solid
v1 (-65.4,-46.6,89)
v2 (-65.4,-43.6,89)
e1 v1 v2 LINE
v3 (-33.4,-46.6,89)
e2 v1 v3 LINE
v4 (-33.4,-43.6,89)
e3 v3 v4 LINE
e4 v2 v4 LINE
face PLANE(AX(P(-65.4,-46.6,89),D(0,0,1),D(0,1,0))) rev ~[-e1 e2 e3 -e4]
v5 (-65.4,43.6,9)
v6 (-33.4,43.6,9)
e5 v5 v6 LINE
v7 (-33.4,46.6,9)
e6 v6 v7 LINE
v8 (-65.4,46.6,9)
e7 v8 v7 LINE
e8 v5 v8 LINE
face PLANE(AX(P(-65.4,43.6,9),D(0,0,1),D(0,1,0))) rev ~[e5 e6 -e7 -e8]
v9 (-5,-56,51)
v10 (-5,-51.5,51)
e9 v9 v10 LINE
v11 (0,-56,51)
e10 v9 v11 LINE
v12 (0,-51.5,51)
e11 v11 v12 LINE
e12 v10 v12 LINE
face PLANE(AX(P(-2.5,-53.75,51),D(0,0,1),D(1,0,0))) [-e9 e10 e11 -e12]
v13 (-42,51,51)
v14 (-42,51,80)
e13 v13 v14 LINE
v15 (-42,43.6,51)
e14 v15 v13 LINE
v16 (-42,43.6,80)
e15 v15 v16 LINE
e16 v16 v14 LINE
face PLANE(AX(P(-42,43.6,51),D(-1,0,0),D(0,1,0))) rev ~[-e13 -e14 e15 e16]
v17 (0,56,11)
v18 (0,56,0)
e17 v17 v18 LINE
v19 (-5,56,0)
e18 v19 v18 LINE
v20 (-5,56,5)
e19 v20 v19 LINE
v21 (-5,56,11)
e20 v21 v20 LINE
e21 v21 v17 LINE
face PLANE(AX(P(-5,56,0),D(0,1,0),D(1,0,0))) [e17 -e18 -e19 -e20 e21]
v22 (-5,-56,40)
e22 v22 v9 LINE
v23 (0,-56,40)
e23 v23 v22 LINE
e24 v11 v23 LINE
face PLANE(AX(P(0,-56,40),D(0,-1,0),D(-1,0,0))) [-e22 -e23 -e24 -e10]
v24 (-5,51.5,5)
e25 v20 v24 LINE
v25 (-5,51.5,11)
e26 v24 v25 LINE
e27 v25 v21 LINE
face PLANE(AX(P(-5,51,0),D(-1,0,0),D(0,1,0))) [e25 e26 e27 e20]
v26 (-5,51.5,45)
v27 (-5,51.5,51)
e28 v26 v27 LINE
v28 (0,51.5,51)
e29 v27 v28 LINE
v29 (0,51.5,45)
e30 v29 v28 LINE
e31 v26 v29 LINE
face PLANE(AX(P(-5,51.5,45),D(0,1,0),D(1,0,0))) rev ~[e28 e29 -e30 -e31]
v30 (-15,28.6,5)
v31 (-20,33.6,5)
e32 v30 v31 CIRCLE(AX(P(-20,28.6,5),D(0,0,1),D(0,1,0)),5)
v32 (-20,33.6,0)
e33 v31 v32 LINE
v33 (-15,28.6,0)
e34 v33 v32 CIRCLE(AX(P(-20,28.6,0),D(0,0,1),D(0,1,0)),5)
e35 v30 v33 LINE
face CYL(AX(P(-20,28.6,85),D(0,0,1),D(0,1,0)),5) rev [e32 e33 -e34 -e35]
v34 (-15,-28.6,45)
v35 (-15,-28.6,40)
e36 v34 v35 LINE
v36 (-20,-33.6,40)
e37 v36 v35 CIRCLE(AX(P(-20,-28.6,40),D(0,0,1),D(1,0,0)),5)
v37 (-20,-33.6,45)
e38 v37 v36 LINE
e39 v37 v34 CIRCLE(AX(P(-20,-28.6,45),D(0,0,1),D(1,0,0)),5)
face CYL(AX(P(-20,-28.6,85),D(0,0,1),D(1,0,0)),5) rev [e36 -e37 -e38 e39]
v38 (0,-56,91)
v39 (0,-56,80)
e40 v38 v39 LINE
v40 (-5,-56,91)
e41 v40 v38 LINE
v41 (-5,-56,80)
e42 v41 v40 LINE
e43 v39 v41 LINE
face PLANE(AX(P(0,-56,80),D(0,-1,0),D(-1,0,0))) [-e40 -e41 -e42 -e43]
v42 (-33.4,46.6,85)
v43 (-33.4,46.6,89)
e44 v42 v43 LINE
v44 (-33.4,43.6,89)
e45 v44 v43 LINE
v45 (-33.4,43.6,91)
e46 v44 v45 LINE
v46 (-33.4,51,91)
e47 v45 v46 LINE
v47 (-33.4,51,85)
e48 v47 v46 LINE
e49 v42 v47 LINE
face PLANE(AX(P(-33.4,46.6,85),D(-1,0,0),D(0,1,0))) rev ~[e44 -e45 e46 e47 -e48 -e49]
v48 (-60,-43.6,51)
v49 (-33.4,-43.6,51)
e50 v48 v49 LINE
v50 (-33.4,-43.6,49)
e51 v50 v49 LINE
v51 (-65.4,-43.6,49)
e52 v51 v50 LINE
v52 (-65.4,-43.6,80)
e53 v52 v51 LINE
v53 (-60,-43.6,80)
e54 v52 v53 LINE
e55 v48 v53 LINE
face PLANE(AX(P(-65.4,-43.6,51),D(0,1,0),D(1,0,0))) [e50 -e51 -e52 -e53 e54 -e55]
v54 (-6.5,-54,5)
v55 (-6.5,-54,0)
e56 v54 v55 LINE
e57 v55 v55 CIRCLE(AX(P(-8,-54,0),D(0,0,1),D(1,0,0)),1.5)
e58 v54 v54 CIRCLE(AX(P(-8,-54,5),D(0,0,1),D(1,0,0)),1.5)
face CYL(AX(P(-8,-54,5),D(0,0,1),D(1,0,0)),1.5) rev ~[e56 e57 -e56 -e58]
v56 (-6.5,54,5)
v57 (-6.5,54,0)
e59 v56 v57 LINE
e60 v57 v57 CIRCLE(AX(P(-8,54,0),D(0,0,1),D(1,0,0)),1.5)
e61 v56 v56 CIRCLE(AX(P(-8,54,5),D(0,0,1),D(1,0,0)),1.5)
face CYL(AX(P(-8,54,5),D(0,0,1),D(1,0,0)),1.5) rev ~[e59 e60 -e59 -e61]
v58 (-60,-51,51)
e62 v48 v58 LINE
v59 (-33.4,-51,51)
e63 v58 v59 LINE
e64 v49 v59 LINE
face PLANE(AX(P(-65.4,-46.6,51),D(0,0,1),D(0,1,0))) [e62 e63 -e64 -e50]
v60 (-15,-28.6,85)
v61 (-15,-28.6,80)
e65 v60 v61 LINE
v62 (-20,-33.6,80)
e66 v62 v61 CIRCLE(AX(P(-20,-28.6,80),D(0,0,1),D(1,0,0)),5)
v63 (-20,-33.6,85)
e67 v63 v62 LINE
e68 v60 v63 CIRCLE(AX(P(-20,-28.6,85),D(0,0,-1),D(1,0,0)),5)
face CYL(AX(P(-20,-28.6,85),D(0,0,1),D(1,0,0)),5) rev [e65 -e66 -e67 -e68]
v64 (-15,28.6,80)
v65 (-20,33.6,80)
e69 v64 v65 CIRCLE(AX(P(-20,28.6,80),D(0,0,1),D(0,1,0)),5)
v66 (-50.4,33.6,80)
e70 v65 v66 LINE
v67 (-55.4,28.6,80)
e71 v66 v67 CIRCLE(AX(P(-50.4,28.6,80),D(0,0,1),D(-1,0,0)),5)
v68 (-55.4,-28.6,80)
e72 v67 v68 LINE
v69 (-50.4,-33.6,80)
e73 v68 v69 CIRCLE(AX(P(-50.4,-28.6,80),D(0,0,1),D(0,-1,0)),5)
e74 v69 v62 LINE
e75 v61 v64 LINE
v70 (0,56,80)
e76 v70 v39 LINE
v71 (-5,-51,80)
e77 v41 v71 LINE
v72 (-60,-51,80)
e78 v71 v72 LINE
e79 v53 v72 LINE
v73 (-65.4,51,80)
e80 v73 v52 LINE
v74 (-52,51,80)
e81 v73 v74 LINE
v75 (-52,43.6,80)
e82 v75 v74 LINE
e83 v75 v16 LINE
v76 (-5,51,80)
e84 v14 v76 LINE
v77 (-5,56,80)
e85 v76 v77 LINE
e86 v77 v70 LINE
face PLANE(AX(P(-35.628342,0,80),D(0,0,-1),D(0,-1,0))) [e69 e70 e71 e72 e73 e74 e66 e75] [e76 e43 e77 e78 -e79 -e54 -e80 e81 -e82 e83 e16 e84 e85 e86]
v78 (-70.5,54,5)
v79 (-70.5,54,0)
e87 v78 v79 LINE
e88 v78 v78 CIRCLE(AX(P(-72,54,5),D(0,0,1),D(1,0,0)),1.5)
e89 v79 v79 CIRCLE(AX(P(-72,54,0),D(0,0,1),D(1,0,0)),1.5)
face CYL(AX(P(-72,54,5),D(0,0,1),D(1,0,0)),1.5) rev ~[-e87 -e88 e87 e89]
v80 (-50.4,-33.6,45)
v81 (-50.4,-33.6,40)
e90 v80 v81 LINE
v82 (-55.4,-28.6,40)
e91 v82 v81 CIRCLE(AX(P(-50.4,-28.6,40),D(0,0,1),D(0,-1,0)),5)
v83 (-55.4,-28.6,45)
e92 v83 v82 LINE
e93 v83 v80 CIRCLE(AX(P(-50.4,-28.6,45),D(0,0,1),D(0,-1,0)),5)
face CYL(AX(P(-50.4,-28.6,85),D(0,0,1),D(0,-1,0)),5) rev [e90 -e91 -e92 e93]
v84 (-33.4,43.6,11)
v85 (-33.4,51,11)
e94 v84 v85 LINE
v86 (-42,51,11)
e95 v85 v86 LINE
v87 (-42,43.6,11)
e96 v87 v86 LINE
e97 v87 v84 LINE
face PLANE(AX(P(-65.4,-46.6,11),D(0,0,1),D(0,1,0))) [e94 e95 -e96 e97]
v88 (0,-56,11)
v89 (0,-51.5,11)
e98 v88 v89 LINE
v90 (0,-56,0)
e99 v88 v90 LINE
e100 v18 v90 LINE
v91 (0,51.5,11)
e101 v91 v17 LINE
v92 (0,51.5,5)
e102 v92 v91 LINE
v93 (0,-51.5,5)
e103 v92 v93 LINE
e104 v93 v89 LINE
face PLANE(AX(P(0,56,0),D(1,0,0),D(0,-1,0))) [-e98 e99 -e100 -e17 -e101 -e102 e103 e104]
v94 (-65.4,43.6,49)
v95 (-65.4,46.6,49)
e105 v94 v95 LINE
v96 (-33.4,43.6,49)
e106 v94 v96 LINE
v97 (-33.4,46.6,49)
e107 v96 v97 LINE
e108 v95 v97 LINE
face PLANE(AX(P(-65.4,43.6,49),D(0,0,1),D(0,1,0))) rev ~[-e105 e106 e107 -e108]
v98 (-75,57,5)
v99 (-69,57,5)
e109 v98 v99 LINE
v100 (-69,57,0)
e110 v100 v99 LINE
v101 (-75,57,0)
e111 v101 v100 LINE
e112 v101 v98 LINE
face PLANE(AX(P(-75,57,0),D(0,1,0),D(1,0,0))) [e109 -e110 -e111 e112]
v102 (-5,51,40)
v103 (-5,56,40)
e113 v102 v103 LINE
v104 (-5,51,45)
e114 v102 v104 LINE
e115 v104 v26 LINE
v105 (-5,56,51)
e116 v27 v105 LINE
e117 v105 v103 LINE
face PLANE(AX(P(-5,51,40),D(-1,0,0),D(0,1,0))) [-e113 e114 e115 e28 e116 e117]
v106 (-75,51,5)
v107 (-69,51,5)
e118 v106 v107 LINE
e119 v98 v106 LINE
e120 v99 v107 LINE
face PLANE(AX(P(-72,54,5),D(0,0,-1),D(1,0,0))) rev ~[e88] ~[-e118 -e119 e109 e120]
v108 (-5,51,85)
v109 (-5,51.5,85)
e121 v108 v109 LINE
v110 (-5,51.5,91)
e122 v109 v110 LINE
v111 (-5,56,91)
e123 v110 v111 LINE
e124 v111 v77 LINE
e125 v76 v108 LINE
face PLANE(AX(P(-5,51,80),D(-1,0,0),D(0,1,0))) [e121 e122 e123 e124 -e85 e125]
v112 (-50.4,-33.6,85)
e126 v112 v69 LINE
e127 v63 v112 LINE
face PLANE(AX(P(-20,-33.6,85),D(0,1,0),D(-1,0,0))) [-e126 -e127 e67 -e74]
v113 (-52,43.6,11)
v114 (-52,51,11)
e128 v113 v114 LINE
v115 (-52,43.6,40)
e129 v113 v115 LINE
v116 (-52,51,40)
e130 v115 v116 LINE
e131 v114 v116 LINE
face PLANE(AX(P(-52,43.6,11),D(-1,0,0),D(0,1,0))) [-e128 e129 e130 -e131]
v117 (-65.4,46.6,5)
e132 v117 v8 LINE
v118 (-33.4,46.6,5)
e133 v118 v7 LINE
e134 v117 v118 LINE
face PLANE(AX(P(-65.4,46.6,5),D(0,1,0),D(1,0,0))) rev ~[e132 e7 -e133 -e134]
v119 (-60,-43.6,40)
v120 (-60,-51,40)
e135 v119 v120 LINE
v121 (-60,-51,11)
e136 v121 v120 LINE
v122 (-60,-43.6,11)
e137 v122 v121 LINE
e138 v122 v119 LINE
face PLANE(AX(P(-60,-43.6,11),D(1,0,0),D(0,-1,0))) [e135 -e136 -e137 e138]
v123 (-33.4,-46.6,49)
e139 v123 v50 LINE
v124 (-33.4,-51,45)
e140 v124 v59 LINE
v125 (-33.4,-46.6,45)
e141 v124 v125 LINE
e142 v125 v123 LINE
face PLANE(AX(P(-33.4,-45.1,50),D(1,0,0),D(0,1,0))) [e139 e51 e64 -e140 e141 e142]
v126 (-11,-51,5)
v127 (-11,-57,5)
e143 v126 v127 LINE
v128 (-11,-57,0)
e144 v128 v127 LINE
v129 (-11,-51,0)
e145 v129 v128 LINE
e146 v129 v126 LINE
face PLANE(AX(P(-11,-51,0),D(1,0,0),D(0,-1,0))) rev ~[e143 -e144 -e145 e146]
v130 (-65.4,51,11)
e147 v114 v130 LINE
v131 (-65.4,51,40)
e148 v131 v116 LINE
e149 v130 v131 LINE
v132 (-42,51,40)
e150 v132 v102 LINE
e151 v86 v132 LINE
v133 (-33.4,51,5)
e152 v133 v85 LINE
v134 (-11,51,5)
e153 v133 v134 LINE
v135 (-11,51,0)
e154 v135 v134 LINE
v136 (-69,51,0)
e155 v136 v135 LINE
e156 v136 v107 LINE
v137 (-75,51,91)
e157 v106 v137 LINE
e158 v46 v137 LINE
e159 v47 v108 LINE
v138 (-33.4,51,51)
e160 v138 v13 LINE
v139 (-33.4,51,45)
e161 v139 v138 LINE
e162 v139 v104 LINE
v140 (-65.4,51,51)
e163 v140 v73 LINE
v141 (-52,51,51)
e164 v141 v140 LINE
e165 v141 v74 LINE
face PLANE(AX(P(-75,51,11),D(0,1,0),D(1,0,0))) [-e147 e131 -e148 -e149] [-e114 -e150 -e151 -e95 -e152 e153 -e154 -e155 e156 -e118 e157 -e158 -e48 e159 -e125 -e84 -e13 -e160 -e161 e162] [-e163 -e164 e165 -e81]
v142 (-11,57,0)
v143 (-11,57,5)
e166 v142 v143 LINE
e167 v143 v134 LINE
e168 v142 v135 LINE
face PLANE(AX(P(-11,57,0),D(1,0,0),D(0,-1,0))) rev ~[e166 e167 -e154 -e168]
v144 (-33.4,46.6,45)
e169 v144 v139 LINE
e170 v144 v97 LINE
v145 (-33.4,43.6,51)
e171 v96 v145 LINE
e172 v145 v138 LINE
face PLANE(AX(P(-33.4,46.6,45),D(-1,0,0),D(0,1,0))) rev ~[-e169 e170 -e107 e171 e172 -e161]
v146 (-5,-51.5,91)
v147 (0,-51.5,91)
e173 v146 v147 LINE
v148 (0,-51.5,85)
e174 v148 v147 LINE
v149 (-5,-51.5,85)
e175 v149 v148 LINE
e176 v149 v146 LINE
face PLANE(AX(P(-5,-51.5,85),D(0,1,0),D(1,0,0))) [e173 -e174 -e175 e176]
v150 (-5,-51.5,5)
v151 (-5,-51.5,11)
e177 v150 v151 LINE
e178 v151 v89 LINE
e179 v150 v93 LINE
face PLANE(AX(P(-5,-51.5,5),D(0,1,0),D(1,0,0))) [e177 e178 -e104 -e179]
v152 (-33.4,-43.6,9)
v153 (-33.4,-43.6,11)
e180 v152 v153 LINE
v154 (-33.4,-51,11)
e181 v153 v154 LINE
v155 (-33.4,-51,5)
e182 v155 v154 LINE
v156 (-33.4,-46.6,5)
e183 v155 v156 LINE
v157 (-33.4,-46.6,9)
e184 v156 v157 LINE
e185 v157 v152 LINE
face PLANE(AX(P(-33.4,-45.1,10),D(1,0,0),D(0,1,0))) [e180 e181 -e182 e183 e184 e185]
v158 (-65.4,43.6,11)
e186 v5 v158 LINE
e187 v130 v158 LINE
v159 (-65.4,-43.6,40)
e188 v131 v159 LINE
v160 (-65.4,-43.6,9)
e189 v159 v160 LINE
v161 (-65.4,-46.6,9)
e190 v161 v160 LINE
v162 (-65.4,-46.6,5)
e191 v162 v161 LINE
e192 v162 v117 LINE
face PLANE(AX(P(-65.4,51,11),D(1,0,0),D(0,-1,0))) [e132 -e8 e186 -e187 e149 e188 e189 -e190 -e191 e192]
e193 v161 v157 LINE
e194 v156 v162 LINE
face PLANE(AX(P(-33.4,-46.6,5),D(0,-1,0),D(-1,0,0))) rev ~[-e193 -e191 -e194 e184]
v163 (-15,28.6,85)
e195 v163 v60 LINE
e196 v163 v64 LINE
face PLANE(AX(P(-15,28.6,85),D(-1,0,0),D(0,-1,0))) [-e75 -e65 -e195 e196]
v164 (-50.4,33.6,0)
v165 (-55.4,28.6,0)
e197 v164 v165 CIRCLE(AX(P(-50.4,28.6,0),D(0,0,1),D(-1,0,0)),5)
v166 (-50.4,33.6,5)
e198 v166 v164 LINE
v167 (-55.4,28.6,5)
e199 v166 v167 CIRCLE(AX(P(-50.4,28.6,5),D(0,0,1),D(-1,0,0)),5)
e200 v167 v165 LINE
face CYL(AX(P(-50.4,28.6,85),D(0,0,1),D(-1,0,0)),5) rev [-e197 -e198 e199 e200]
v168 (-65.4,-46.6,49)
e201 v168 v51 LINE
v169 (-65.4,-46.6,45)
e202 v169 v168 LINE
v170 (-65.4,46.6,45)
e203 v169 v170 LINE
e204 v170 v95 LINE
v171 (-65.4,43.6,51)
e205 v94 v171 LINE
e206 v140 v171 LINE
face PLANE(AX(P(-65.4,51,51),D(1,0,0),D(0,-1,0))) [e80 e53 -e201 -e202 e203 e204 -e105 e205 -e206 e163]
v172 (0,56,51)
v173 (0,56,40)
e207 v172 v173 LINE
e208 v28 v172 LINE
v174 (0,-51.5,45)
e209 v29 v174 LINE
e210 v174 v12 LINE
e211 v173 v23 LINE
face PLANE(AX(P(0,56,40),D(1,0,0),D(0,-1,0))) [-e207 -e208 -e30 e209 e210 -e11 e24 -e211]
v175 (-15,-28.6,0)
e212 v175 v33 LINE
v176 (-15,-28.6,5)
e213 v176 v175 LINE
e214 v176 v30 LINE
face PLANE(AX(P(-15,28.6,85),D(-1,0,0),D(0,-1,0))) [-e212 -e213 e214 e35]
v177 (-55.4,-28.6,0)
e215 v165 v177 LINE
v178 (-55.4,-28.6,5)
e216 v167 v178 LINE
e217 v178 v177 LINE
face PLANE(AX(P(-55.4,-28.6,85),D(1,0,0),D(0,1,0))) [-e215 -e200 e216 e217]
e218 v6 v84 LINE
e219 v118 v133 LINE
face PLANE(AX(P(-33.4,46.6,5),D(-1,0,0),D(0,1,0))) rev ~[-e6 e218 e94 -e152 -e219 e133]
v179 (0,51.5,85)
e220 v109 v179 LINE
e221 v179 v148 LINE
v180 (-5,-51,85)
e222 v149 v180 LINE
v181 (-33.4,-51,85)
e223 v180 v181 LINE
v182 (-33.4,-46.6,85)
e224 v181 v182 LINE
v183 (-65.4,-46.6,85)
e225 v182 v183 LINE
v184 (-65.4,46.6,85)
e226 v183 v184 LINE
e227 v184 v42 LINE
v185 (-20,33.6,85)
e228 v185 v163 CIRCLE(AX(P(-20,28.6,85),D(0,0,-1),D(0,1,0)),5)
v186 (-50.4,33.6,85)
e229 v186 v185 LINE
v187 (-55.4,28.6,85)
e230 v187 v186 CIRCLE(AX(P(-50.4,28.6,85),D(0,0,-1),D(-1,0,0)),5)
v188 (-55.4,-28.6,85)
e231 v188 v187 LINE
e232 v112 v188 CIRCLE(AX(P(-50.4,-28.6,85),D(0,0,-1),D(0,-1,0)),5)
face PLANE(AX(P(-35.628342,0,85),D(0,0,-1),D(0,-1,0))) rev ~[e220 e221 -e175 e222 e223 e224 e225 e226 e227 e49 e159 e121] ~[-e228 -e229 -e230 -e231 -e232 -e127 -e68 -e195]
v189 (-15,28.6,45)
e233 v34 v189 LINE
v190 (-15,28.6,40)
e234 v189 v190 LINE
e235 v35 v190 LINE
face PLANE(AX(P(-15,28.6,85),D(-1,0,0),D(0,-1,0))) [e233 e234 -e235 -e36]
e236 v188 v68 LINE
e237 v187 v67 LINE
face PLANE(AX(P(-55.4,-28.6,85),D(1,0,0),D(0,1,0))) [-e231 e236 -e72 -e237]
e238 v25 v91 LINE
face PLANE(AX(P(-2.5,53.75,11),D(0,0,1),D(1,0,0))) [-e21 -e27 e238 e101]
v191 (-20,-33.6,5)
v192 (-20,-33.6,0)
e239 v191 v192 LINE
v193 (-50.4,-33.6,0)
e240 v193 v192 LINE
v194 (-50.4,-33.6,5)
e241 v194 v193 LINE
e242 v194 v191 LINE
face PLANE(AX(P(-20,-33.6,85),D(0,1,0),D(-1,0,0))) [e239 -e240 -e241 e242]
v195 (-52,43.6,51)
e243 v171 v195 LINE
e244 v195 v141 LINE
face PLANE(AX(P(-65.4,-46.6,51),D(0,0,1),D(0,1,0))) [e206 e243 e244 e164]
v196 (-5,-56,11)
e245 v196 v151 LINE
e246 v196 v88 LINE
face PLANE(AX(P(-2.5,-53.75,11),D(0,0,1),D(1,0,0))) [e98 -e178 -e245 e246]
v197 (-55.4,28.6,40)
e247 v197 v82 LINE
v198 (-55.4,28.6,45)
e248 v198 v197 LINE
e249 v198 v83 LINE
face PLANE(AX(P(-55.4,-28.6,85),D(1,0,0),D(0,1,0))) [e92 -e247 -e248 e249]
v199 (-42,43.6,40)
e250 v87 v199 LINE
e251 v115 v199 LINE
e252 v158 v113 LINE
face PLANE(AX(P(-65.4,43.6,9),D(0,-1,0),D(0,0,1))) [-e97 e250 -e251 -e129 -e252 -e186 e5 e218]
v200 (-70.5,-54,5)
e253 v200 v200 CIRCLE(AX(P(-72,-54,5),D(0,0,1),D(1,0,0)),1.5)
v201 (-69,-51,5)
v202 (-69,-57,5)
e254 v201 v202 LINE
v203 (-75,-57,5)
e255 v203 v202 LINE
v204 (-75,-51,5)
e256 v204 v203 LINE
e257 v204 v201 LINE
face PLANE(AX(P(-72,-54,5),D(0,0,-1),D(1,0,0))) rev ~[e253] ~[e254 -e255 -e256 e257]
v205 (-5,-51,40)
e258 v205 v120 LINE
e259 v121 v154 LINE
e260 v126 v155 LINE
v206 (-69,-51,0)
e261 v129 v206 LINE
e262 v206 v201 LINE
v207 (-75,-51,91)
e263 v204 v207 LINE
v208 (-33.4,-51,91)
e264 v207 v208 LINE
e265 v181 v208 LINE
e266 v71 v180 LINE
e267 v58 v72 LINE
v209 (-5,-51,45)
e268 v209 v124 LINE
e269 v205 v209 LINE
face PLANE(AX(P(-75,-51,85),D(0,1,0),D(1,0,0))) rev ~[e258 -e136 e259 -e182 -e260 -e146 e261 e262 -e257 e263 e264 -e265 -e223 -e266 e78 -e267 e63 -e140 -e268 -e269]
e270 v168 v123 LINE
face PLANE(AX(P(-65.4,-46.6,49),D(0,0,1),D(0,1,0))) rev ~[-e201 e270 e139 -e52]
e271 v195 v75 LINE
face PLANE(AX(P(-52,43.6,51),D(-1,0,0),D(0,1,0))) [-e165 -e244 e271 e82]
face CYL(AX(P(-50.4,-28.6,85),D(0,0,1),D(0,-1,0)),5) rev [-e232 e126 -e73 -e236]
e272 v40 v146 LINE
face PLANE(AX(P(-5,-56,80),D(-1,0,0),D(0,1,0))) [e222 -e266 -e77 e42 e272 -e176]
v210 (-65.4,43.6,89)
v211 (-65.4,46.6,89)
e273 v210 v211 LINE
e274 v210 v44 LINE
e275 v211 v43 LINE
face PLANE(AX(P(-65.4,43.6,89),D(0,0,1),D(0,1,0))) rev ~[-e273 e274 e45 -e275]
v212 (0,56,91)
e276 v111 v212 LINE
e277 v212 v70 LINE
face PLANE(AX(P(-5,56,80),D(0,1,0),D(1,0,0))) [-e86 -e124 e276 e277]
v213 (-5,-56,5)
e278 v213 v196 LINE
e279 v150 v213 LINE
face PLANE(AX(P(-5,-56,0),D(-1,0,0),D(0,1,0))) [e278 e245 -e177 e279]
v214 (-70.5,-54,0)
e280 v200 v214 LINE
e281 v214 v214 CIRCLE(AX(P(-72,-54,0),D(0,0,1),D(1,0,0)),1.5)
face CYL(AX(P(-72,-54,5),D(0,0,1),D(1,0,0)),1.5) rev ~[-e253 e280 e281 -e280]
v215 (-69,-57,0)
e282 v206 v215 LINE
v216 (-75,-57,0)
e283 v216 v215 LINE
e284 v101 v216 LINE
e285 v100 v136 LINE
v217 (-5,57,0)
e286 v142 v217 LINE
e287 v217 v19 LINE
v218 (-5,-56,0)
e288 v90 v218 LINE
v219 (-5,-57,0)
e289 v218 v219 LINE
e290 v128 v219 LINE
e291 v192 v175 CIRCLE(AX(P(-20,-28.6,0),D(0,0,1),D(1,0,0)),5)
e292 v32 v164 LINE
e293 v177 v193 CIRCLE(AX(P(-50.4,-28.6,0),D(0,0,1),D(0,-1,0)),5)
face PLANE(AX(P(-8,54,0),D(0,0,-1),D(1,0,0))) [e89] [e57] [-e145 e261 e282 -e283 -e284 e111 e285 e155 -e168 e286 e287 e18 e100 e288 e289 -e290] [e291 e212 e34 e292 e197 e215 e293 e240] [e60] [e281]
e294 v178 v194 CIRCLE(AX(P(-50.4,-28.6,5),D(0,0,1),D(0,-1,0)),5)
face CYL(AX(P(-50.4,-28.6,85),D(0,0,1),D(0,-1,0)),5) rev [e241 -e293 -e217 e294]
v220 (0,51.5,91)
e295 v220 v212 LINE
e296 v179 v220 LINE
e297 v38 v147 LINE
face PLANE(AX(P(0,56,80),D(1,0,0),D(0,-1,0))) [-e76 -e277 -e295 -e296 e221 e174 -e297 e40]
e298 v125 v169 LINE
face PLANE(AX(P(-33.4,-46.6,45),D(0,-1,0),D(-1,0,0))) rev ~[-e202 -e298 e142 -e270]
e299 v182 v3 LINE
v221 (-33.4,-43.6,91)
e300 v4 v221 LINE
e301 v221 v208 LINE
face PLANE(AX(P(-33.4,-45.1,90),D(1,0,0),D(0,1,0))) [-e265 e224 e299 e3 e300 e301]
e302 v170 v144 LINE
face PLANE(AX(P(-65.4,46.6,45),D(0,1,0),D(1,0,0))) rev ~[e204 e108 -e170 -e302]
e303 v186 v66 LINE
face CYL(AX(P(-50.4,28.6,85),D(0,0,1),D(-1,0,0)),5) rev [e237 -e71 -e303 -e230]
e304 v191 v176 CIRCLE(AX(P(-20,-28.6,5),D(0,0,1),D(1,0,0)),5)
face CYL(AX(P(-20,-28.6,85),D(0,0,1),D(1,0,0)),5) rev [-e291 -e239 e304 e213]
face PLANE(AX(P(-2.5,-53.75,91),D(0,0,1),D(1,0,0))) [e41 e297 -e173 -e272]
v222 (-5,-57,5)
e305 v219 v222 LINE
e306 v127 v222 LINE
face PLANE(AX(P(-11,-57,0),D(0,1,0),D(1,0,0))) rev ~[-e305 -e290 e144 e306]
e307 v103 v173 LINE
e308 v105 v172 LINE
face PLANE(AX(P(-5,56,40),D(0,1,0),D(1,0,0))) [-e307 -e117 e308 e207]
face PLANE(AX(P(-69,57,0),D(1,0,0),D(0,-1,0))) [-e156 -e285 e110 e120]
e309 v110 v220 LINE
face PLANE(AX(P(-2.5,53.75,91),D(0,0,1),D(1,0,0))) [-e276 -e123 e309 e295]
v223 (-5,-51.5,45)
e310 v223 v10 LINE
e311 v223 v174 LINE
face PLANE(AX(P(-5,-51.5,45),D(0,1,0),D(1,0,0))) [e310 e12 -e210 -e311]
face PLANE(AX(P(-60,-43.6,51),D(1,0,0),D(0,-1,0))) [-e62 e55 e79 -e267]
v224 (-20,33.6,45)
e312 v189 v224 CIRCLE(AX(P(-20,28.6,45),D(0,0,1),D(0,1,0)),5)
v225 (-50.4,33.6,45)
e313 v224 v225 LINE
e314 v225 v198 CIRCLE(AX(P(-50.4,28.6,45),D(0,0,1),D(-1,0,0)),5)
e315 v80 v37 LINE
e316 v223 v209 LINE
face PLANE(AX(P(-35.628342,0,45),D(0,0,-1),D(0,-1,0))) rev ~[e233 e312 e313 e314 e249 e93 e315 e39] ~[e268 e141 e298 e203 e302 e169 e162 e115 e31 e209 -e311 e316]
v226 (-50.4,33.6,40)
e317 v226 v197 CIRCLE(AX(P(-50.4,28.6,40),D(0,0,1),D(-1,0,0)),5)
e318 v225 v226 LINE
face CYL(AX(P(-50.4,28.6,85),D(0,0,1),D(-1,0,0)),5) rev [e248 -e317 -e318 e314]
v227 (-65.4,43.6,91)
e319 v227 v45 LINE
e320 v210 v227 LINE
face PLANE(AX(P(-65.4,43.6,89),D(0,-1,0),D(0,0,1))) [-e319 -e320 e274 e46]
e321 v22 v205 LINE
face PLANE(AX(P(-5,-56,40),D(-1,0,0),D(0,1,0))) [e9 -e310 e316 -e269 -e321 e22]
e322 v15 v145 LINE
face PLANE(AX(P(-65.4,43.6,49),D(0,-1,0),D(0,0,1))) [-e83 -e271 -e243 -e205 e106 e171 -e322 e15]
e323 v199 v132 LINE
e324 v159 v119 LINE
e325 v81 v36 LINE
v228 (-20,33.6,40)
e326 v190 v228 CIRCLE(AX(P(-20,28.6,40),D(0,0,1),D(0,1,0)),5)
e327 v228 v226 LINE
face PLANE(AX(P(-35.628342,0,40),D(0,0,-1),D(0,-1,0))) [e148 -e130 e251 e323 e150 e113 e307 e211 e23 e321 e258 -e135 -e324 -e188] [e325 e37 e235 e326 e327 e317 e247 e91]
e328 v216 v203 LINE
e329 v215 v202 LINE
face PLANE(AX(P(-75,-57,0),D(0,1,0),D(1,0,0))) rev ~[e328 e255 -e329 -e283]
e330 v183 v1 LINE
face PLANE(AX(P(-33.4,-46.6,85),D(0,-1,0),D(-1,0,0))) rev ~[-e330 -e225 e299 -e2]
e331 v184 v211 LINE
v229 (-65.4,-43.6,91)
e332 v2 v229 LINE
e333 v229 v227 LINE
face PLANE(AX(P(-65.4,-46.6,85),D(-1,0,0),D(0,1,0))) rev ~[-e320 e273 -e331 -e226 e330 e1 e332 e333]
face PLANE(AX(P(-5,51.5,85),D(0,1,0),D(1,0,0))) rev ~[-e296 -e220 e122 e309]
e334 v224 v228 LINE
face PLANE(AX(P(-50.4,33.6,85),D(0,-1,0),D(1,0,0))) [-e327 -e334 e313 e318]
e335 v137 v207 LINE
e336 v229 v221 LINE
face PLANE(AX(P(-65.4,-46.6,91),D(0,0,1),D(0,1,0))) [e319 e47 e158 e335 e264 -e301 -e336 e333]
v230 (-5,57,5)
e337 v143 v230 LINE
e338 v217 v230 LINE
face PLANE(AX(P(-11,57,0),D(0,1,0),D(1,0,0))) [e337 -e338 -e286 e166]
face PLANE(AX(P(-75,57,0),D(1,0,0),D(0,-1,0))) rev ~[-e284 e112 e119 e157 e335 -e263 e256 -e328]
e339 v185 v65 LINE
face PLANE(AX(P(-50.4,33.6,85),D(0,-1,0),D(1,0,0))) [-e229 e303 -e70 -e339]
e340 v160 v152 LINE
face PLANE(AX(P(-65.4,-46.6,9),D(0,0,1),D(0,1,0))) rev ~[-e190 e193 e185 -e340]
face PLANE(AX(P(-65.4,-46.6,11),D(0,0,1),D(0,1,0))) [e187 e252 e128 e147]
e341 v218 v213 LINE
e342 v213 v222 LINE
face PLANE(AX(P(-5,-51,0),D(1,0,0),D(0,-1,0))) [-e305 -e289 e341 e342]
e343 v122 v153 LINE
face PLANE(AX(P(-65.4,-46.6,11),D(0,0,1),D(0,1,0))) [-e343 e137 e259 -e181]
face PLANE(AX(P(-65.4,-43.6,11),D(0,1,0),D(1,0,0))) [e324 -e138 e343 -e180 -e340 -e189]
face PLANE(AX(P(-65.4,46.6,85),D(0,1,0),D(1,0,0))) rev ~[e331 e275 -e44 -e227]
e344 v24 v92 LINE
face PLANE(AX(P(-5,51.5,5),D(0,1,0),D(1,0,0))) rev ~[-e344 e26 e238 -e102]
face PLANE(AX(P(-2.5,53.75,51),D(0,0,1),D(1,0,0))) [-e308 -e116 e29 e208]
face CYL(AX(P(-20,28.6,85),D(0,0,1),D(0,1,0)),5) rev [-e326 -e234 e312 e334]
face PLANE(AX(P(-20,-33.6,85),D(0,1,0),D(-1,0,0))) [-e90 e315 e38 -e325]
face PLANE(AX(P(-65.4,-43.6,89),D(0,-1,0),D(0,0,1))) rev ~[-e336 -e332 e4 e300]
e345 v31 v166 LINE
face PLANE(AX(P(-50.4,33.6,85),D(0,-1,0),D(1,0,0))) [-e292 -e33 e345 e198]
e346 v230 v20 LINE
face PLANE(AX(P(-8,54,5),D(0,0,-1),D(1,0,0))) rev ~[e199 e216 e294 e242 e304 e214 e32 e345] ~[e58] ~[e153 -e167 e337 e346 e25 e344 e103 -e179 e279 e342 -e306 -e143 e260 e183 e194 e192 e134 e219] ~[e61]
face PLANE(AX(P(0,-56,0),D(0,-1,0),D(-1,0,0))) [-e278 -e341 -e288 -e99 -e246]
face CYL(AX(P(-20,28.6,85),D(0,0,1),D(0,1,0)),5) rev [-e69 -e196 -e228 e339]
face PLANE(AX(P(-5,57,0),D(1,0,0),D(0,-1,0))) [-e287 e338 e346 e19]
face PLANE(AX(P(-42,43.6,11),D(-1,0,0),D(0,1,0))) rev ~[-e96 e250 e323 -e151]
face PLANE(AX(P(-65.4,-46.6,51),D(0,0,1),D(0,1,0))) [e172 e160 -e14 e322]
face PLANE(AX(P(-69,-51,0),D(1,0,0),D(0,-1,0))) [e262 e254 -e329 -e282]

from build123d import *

# Parameters (mm, degrees)
BOSS_EXTRUDE1_DEPTH     = 5
SKETCH4_W               = 5
SKETCH4_H               = 4.5
BOSS_EXTRUDE2_DEPTH     = 6
SKETCH5_W               = 3
SKETCH5_H               = 2
BOSS_EXTRUDE3_DEPTH     = 32
SKETCH6_W               = 6
SKETCH6_H               = 6
BOSS_EXTRUDE4_DEPTH     = 5
BOSS_EXTRUDE4_2_DEPTH   = 5
BOSS_EXTRUDE4_3_DEPTH   = 5
BOSS_EXTRUDE4_4_DEPTH   = 5
SKETCH7_R               = 1.5
CUT_EXTRUDE1_DEPTH      = 6
LPATTERN1_COUNT         = 3
LPATTERN1_PITCH         = 40
SKETCH8_W               = 10
SKETCH8_H               = 7.4
BOSS_EXTRUDE5_DEPTH     = 29
SKETCH9_W               = 10
SKETCH9_H               = 7.4
BOSS_EXTRUDE6_DEPTH     = 29
CUT_EXTRUDE2_DEPTH      = 7
CUT_EXTRUDE2_DEPTH_BACK = 86


with BuildPart() as part:
    # Sketch1 → Boss-Extrude1 (new body)
    with BuildSketch(Plane(origin=(0, 0, 0), x_dir=(0, 1, 0), z_dir=(0, 0, 1))):
        Polygon((-51, 5), (-51, 75), (51, 75), (51, 5), (56, 5), (56, 0), (-56, 0), (-56, 5), align=None)
    extrude(amount=BOSS_EXTRUDE1_DEPTH)

    # Sketch4 → Boss-Extrude2 (add)
    with BuildSketch(Plane.XY.offset(5)):
        Polygon((-75, 51), (-75, -51), (-33.4, -51), (-33.4, -46.6), (-65.4, -46.6), (-65.4, 46.6), (-33.4, 46.6), (-33.4, 51), align=None)
        with Locations((-2.5, 53.75)):
            Rectangle(SKETCH4_W, SKETCH4_H)
        with Locations((-2.5, -53.75)):
            Rectangle(SKETCH4_W, SKETCH4_H)
    extrude(amount=BOSS_EXTRUDE2_DEPTH)

    # Sketch5 → Boss-Extrude3 (add)
    with BuildSketch(Plane.YZ.offset(-65.4)):
        with Locations((-45.1, 10)):
            Rectangle(SKETCH5_W, SKETCH5_H)
        with Locations((45.1, 10)):
            Rectangle(SKETCH5_W, SKETCH5_H)
    extrude(amount=BOSS_EXTRUDE3_DEPTH)


with BuildPart() as body_2:
    # Sketch6 → Boss-Extrude4 (new body)
    with BuildSketch(Plane(origin=(0, 0, 0), x_dir=(1, 0, 0), z_dir=(0, 0, -1))):
        with Locations((-8, 54)):
            Rectangle(SKETCH6_W, SKETCH6_H)
    extrude(amount=-BOSS_EXTRUDE4_DEPTH)


with BuildPart() as body_3:
    # Sketch6 → Boss-Extrude4 2 (new body)
    with BuildSketch(Plane(origin=(0, 0, 0), x_dir=(1, 0, 0), z_dir=(0, 0, -1))):
        with Locations((-72, 54)):
            Rectangle(SKETCH6_W, SKETCH6_H)
    extrude(amount=-BOSS_EXTRUDE4_2_DEPTH)


with BuildPart() as body_4:
    # Sketch6 → Boss-Extrude4 3 (new body)
    with BuildSketch(Plane(origin=(0, 0, 0), x_dir=(1, 0, 0), z_dir=(0, 0, -1))):
        with Locations((-8, -54)):
            Rectangle(SKETCH6_W, SKETCH6_H)
    extrude(amount=-BOSS_EXTRUDE4_3_DEPTH)


with BuildPart() as body_5:
    # Sketch6 → Boss-Extrude4 4 (new body)
    with BuildSketch(Plane(origin=(0, 0, 0), x_dir=(1, 0, 0), z_dir=(0, 0, -1))):
        with Locations((-72, -54)):
            Rectangle(SKETCH6_W, SKETCH6_H)
    extrude(amount=-BOSS_EXTRUDE4_4_DEPTH)


with BuildPart() as cut_extrude1_tool:
    # Sketch7 → Cut-Extrude1 (new body, through all)
    with BuildSketch(Plane.XY.offset(5)):
        with Locations((-8, -54)):
            Circle(SKETCH7_R)
        with Locations((-72, -54)):
            Circle(SKETCH7_R)
        with Locations((-8, 54)):
            Circle(SKETCH7_R)
        with Locations((-72, 54)):
            Circle(SKETCH7_R)
    extrude(amount=-CUT_EXTRUDE1_DEPTH)


with BuildPart() as body_2_1:
    add(body_2.part)

    # Cut-Extrude1: cut by cut_extrude1_tool
    add(cut_extrude1_tool.part, mode=Mode.SUBTRACT)


with BuildPart() as body_3_1:
    add(body_3.part)

    # Cut-Extrude1: cut by cut_extrude1_tool
    add(cut_extrude1_tool.part, mode=Mode.SUBTRACT)


with BuildPart() as body_4_1:
    add(body_4.part)

    # Cut-Extrude1: cut by cut_extrude1_tool
    add(cut_extrude1_tool.part, mode=Mode.SUBTRACT)


with BuildPart() as body_5_1:
    add(body_5.part)

    # Cut-Extrude1: cut by cut_extrude1_tool
    add(cut_extrude1_tool.part, mode=Mode.SUBTRACT)


with BuildPart() as lpattern1_1:
    # LPattern1: pattern copy
    add(part.part.moved(Location(Vector(0, 0, 1) * (1 * LPATTERN1_PITCH))))



with BuildPart() as lpattern1_2:
    # LPattern1: pattern copy
    add(part.part.moved(Location(Vector(0, 0, 1) * (2 * LPATTERN1_PITCH))))


with BuildPart() as part_1:
    add(part.part)

    # Sketch8 → Boss-Extrude5 (add)
    with BuildSketch(Plane.XY.offset(11)):
        with Locations((-47, 47.3)):
            Rectangle(SKETCH8_W, SKETCH8_H)
        Polygon((-65.4, 51), (-65.4, -43.6), (-60, -43.6), (-60, -51), (-75, -51), (-75, 51), align=None)
    extrude(amount=BOSS_EXTRUDE5_DEPTH)


with BuildPart() as lpattern1_1_1:
    add(lpattern1_1.part)

    add(lpattern1_2.part)  # Boss-Extrude6 merges LPattern1_2
    # Sketch9 → Boss-Extrude6 (add)
    with BuildSketch(Plane.XY.offset(51)):
        with Locations((-47, 47.3)):
            Rectangle(SKETCH9_W, SKETCH9_H)
        Polygon((-65.4, 51), (-65.4, -43.6), (-60, -43.6), (-60, -51), (-75, -51), (-75, 51), align=None)
    extrude(amount=BOSS_EXTRUDE6_DEPTH)

    # Combine1: union part, body 3, body 2, body 5, body 4
    add(part_1.part)
    add(body_3_1.part)
    add(body_2_1.part)
    add(body_5_1.part)
    add(body_4_1.part)

    # Sketch10 → Cut-Extrude2 (cut, two sides)
    with BuildSketch(Plane.XY.offset(85)) as cut_extrude2_sk:
        with BuildLine():
            Line((-50.4, 33.6), (-20, 33.6))
            ThreePointArc((-20, 33.6), (-16.464466094, 32.135533906), (-15, 28.6))
            Line((-15, 28.6), (-15, -28.6))
            ThreePointArc((-15, -28.6), (-16.464466094, -32.135533906), (-20, -33.6))
            Line((-20, -33.6), (-50.4, -33.6))
            ThreePointArc((-50.4, -33.6), (-53.935533906, -32.135533906), (-55.4, -28.6))
            Line((-55.4, -28.6), (-55.4, 28.6))
            ThreePointArc((-55.4, 28.6), (-53.935533906, 32.135533906), (-50.4, 33.6))
        make_face()
    extrude(amount=CUT_EXTRUDE2_DEPTH, mode=Mode.SUBTRACT)
    extrude(cut_extrude2_sk.sketch, amount=-CUT_EXTRUDE2_DEPTH_BACK, mode=Mode.SUBTRACT)


solid = lpattern1_1_1.part
